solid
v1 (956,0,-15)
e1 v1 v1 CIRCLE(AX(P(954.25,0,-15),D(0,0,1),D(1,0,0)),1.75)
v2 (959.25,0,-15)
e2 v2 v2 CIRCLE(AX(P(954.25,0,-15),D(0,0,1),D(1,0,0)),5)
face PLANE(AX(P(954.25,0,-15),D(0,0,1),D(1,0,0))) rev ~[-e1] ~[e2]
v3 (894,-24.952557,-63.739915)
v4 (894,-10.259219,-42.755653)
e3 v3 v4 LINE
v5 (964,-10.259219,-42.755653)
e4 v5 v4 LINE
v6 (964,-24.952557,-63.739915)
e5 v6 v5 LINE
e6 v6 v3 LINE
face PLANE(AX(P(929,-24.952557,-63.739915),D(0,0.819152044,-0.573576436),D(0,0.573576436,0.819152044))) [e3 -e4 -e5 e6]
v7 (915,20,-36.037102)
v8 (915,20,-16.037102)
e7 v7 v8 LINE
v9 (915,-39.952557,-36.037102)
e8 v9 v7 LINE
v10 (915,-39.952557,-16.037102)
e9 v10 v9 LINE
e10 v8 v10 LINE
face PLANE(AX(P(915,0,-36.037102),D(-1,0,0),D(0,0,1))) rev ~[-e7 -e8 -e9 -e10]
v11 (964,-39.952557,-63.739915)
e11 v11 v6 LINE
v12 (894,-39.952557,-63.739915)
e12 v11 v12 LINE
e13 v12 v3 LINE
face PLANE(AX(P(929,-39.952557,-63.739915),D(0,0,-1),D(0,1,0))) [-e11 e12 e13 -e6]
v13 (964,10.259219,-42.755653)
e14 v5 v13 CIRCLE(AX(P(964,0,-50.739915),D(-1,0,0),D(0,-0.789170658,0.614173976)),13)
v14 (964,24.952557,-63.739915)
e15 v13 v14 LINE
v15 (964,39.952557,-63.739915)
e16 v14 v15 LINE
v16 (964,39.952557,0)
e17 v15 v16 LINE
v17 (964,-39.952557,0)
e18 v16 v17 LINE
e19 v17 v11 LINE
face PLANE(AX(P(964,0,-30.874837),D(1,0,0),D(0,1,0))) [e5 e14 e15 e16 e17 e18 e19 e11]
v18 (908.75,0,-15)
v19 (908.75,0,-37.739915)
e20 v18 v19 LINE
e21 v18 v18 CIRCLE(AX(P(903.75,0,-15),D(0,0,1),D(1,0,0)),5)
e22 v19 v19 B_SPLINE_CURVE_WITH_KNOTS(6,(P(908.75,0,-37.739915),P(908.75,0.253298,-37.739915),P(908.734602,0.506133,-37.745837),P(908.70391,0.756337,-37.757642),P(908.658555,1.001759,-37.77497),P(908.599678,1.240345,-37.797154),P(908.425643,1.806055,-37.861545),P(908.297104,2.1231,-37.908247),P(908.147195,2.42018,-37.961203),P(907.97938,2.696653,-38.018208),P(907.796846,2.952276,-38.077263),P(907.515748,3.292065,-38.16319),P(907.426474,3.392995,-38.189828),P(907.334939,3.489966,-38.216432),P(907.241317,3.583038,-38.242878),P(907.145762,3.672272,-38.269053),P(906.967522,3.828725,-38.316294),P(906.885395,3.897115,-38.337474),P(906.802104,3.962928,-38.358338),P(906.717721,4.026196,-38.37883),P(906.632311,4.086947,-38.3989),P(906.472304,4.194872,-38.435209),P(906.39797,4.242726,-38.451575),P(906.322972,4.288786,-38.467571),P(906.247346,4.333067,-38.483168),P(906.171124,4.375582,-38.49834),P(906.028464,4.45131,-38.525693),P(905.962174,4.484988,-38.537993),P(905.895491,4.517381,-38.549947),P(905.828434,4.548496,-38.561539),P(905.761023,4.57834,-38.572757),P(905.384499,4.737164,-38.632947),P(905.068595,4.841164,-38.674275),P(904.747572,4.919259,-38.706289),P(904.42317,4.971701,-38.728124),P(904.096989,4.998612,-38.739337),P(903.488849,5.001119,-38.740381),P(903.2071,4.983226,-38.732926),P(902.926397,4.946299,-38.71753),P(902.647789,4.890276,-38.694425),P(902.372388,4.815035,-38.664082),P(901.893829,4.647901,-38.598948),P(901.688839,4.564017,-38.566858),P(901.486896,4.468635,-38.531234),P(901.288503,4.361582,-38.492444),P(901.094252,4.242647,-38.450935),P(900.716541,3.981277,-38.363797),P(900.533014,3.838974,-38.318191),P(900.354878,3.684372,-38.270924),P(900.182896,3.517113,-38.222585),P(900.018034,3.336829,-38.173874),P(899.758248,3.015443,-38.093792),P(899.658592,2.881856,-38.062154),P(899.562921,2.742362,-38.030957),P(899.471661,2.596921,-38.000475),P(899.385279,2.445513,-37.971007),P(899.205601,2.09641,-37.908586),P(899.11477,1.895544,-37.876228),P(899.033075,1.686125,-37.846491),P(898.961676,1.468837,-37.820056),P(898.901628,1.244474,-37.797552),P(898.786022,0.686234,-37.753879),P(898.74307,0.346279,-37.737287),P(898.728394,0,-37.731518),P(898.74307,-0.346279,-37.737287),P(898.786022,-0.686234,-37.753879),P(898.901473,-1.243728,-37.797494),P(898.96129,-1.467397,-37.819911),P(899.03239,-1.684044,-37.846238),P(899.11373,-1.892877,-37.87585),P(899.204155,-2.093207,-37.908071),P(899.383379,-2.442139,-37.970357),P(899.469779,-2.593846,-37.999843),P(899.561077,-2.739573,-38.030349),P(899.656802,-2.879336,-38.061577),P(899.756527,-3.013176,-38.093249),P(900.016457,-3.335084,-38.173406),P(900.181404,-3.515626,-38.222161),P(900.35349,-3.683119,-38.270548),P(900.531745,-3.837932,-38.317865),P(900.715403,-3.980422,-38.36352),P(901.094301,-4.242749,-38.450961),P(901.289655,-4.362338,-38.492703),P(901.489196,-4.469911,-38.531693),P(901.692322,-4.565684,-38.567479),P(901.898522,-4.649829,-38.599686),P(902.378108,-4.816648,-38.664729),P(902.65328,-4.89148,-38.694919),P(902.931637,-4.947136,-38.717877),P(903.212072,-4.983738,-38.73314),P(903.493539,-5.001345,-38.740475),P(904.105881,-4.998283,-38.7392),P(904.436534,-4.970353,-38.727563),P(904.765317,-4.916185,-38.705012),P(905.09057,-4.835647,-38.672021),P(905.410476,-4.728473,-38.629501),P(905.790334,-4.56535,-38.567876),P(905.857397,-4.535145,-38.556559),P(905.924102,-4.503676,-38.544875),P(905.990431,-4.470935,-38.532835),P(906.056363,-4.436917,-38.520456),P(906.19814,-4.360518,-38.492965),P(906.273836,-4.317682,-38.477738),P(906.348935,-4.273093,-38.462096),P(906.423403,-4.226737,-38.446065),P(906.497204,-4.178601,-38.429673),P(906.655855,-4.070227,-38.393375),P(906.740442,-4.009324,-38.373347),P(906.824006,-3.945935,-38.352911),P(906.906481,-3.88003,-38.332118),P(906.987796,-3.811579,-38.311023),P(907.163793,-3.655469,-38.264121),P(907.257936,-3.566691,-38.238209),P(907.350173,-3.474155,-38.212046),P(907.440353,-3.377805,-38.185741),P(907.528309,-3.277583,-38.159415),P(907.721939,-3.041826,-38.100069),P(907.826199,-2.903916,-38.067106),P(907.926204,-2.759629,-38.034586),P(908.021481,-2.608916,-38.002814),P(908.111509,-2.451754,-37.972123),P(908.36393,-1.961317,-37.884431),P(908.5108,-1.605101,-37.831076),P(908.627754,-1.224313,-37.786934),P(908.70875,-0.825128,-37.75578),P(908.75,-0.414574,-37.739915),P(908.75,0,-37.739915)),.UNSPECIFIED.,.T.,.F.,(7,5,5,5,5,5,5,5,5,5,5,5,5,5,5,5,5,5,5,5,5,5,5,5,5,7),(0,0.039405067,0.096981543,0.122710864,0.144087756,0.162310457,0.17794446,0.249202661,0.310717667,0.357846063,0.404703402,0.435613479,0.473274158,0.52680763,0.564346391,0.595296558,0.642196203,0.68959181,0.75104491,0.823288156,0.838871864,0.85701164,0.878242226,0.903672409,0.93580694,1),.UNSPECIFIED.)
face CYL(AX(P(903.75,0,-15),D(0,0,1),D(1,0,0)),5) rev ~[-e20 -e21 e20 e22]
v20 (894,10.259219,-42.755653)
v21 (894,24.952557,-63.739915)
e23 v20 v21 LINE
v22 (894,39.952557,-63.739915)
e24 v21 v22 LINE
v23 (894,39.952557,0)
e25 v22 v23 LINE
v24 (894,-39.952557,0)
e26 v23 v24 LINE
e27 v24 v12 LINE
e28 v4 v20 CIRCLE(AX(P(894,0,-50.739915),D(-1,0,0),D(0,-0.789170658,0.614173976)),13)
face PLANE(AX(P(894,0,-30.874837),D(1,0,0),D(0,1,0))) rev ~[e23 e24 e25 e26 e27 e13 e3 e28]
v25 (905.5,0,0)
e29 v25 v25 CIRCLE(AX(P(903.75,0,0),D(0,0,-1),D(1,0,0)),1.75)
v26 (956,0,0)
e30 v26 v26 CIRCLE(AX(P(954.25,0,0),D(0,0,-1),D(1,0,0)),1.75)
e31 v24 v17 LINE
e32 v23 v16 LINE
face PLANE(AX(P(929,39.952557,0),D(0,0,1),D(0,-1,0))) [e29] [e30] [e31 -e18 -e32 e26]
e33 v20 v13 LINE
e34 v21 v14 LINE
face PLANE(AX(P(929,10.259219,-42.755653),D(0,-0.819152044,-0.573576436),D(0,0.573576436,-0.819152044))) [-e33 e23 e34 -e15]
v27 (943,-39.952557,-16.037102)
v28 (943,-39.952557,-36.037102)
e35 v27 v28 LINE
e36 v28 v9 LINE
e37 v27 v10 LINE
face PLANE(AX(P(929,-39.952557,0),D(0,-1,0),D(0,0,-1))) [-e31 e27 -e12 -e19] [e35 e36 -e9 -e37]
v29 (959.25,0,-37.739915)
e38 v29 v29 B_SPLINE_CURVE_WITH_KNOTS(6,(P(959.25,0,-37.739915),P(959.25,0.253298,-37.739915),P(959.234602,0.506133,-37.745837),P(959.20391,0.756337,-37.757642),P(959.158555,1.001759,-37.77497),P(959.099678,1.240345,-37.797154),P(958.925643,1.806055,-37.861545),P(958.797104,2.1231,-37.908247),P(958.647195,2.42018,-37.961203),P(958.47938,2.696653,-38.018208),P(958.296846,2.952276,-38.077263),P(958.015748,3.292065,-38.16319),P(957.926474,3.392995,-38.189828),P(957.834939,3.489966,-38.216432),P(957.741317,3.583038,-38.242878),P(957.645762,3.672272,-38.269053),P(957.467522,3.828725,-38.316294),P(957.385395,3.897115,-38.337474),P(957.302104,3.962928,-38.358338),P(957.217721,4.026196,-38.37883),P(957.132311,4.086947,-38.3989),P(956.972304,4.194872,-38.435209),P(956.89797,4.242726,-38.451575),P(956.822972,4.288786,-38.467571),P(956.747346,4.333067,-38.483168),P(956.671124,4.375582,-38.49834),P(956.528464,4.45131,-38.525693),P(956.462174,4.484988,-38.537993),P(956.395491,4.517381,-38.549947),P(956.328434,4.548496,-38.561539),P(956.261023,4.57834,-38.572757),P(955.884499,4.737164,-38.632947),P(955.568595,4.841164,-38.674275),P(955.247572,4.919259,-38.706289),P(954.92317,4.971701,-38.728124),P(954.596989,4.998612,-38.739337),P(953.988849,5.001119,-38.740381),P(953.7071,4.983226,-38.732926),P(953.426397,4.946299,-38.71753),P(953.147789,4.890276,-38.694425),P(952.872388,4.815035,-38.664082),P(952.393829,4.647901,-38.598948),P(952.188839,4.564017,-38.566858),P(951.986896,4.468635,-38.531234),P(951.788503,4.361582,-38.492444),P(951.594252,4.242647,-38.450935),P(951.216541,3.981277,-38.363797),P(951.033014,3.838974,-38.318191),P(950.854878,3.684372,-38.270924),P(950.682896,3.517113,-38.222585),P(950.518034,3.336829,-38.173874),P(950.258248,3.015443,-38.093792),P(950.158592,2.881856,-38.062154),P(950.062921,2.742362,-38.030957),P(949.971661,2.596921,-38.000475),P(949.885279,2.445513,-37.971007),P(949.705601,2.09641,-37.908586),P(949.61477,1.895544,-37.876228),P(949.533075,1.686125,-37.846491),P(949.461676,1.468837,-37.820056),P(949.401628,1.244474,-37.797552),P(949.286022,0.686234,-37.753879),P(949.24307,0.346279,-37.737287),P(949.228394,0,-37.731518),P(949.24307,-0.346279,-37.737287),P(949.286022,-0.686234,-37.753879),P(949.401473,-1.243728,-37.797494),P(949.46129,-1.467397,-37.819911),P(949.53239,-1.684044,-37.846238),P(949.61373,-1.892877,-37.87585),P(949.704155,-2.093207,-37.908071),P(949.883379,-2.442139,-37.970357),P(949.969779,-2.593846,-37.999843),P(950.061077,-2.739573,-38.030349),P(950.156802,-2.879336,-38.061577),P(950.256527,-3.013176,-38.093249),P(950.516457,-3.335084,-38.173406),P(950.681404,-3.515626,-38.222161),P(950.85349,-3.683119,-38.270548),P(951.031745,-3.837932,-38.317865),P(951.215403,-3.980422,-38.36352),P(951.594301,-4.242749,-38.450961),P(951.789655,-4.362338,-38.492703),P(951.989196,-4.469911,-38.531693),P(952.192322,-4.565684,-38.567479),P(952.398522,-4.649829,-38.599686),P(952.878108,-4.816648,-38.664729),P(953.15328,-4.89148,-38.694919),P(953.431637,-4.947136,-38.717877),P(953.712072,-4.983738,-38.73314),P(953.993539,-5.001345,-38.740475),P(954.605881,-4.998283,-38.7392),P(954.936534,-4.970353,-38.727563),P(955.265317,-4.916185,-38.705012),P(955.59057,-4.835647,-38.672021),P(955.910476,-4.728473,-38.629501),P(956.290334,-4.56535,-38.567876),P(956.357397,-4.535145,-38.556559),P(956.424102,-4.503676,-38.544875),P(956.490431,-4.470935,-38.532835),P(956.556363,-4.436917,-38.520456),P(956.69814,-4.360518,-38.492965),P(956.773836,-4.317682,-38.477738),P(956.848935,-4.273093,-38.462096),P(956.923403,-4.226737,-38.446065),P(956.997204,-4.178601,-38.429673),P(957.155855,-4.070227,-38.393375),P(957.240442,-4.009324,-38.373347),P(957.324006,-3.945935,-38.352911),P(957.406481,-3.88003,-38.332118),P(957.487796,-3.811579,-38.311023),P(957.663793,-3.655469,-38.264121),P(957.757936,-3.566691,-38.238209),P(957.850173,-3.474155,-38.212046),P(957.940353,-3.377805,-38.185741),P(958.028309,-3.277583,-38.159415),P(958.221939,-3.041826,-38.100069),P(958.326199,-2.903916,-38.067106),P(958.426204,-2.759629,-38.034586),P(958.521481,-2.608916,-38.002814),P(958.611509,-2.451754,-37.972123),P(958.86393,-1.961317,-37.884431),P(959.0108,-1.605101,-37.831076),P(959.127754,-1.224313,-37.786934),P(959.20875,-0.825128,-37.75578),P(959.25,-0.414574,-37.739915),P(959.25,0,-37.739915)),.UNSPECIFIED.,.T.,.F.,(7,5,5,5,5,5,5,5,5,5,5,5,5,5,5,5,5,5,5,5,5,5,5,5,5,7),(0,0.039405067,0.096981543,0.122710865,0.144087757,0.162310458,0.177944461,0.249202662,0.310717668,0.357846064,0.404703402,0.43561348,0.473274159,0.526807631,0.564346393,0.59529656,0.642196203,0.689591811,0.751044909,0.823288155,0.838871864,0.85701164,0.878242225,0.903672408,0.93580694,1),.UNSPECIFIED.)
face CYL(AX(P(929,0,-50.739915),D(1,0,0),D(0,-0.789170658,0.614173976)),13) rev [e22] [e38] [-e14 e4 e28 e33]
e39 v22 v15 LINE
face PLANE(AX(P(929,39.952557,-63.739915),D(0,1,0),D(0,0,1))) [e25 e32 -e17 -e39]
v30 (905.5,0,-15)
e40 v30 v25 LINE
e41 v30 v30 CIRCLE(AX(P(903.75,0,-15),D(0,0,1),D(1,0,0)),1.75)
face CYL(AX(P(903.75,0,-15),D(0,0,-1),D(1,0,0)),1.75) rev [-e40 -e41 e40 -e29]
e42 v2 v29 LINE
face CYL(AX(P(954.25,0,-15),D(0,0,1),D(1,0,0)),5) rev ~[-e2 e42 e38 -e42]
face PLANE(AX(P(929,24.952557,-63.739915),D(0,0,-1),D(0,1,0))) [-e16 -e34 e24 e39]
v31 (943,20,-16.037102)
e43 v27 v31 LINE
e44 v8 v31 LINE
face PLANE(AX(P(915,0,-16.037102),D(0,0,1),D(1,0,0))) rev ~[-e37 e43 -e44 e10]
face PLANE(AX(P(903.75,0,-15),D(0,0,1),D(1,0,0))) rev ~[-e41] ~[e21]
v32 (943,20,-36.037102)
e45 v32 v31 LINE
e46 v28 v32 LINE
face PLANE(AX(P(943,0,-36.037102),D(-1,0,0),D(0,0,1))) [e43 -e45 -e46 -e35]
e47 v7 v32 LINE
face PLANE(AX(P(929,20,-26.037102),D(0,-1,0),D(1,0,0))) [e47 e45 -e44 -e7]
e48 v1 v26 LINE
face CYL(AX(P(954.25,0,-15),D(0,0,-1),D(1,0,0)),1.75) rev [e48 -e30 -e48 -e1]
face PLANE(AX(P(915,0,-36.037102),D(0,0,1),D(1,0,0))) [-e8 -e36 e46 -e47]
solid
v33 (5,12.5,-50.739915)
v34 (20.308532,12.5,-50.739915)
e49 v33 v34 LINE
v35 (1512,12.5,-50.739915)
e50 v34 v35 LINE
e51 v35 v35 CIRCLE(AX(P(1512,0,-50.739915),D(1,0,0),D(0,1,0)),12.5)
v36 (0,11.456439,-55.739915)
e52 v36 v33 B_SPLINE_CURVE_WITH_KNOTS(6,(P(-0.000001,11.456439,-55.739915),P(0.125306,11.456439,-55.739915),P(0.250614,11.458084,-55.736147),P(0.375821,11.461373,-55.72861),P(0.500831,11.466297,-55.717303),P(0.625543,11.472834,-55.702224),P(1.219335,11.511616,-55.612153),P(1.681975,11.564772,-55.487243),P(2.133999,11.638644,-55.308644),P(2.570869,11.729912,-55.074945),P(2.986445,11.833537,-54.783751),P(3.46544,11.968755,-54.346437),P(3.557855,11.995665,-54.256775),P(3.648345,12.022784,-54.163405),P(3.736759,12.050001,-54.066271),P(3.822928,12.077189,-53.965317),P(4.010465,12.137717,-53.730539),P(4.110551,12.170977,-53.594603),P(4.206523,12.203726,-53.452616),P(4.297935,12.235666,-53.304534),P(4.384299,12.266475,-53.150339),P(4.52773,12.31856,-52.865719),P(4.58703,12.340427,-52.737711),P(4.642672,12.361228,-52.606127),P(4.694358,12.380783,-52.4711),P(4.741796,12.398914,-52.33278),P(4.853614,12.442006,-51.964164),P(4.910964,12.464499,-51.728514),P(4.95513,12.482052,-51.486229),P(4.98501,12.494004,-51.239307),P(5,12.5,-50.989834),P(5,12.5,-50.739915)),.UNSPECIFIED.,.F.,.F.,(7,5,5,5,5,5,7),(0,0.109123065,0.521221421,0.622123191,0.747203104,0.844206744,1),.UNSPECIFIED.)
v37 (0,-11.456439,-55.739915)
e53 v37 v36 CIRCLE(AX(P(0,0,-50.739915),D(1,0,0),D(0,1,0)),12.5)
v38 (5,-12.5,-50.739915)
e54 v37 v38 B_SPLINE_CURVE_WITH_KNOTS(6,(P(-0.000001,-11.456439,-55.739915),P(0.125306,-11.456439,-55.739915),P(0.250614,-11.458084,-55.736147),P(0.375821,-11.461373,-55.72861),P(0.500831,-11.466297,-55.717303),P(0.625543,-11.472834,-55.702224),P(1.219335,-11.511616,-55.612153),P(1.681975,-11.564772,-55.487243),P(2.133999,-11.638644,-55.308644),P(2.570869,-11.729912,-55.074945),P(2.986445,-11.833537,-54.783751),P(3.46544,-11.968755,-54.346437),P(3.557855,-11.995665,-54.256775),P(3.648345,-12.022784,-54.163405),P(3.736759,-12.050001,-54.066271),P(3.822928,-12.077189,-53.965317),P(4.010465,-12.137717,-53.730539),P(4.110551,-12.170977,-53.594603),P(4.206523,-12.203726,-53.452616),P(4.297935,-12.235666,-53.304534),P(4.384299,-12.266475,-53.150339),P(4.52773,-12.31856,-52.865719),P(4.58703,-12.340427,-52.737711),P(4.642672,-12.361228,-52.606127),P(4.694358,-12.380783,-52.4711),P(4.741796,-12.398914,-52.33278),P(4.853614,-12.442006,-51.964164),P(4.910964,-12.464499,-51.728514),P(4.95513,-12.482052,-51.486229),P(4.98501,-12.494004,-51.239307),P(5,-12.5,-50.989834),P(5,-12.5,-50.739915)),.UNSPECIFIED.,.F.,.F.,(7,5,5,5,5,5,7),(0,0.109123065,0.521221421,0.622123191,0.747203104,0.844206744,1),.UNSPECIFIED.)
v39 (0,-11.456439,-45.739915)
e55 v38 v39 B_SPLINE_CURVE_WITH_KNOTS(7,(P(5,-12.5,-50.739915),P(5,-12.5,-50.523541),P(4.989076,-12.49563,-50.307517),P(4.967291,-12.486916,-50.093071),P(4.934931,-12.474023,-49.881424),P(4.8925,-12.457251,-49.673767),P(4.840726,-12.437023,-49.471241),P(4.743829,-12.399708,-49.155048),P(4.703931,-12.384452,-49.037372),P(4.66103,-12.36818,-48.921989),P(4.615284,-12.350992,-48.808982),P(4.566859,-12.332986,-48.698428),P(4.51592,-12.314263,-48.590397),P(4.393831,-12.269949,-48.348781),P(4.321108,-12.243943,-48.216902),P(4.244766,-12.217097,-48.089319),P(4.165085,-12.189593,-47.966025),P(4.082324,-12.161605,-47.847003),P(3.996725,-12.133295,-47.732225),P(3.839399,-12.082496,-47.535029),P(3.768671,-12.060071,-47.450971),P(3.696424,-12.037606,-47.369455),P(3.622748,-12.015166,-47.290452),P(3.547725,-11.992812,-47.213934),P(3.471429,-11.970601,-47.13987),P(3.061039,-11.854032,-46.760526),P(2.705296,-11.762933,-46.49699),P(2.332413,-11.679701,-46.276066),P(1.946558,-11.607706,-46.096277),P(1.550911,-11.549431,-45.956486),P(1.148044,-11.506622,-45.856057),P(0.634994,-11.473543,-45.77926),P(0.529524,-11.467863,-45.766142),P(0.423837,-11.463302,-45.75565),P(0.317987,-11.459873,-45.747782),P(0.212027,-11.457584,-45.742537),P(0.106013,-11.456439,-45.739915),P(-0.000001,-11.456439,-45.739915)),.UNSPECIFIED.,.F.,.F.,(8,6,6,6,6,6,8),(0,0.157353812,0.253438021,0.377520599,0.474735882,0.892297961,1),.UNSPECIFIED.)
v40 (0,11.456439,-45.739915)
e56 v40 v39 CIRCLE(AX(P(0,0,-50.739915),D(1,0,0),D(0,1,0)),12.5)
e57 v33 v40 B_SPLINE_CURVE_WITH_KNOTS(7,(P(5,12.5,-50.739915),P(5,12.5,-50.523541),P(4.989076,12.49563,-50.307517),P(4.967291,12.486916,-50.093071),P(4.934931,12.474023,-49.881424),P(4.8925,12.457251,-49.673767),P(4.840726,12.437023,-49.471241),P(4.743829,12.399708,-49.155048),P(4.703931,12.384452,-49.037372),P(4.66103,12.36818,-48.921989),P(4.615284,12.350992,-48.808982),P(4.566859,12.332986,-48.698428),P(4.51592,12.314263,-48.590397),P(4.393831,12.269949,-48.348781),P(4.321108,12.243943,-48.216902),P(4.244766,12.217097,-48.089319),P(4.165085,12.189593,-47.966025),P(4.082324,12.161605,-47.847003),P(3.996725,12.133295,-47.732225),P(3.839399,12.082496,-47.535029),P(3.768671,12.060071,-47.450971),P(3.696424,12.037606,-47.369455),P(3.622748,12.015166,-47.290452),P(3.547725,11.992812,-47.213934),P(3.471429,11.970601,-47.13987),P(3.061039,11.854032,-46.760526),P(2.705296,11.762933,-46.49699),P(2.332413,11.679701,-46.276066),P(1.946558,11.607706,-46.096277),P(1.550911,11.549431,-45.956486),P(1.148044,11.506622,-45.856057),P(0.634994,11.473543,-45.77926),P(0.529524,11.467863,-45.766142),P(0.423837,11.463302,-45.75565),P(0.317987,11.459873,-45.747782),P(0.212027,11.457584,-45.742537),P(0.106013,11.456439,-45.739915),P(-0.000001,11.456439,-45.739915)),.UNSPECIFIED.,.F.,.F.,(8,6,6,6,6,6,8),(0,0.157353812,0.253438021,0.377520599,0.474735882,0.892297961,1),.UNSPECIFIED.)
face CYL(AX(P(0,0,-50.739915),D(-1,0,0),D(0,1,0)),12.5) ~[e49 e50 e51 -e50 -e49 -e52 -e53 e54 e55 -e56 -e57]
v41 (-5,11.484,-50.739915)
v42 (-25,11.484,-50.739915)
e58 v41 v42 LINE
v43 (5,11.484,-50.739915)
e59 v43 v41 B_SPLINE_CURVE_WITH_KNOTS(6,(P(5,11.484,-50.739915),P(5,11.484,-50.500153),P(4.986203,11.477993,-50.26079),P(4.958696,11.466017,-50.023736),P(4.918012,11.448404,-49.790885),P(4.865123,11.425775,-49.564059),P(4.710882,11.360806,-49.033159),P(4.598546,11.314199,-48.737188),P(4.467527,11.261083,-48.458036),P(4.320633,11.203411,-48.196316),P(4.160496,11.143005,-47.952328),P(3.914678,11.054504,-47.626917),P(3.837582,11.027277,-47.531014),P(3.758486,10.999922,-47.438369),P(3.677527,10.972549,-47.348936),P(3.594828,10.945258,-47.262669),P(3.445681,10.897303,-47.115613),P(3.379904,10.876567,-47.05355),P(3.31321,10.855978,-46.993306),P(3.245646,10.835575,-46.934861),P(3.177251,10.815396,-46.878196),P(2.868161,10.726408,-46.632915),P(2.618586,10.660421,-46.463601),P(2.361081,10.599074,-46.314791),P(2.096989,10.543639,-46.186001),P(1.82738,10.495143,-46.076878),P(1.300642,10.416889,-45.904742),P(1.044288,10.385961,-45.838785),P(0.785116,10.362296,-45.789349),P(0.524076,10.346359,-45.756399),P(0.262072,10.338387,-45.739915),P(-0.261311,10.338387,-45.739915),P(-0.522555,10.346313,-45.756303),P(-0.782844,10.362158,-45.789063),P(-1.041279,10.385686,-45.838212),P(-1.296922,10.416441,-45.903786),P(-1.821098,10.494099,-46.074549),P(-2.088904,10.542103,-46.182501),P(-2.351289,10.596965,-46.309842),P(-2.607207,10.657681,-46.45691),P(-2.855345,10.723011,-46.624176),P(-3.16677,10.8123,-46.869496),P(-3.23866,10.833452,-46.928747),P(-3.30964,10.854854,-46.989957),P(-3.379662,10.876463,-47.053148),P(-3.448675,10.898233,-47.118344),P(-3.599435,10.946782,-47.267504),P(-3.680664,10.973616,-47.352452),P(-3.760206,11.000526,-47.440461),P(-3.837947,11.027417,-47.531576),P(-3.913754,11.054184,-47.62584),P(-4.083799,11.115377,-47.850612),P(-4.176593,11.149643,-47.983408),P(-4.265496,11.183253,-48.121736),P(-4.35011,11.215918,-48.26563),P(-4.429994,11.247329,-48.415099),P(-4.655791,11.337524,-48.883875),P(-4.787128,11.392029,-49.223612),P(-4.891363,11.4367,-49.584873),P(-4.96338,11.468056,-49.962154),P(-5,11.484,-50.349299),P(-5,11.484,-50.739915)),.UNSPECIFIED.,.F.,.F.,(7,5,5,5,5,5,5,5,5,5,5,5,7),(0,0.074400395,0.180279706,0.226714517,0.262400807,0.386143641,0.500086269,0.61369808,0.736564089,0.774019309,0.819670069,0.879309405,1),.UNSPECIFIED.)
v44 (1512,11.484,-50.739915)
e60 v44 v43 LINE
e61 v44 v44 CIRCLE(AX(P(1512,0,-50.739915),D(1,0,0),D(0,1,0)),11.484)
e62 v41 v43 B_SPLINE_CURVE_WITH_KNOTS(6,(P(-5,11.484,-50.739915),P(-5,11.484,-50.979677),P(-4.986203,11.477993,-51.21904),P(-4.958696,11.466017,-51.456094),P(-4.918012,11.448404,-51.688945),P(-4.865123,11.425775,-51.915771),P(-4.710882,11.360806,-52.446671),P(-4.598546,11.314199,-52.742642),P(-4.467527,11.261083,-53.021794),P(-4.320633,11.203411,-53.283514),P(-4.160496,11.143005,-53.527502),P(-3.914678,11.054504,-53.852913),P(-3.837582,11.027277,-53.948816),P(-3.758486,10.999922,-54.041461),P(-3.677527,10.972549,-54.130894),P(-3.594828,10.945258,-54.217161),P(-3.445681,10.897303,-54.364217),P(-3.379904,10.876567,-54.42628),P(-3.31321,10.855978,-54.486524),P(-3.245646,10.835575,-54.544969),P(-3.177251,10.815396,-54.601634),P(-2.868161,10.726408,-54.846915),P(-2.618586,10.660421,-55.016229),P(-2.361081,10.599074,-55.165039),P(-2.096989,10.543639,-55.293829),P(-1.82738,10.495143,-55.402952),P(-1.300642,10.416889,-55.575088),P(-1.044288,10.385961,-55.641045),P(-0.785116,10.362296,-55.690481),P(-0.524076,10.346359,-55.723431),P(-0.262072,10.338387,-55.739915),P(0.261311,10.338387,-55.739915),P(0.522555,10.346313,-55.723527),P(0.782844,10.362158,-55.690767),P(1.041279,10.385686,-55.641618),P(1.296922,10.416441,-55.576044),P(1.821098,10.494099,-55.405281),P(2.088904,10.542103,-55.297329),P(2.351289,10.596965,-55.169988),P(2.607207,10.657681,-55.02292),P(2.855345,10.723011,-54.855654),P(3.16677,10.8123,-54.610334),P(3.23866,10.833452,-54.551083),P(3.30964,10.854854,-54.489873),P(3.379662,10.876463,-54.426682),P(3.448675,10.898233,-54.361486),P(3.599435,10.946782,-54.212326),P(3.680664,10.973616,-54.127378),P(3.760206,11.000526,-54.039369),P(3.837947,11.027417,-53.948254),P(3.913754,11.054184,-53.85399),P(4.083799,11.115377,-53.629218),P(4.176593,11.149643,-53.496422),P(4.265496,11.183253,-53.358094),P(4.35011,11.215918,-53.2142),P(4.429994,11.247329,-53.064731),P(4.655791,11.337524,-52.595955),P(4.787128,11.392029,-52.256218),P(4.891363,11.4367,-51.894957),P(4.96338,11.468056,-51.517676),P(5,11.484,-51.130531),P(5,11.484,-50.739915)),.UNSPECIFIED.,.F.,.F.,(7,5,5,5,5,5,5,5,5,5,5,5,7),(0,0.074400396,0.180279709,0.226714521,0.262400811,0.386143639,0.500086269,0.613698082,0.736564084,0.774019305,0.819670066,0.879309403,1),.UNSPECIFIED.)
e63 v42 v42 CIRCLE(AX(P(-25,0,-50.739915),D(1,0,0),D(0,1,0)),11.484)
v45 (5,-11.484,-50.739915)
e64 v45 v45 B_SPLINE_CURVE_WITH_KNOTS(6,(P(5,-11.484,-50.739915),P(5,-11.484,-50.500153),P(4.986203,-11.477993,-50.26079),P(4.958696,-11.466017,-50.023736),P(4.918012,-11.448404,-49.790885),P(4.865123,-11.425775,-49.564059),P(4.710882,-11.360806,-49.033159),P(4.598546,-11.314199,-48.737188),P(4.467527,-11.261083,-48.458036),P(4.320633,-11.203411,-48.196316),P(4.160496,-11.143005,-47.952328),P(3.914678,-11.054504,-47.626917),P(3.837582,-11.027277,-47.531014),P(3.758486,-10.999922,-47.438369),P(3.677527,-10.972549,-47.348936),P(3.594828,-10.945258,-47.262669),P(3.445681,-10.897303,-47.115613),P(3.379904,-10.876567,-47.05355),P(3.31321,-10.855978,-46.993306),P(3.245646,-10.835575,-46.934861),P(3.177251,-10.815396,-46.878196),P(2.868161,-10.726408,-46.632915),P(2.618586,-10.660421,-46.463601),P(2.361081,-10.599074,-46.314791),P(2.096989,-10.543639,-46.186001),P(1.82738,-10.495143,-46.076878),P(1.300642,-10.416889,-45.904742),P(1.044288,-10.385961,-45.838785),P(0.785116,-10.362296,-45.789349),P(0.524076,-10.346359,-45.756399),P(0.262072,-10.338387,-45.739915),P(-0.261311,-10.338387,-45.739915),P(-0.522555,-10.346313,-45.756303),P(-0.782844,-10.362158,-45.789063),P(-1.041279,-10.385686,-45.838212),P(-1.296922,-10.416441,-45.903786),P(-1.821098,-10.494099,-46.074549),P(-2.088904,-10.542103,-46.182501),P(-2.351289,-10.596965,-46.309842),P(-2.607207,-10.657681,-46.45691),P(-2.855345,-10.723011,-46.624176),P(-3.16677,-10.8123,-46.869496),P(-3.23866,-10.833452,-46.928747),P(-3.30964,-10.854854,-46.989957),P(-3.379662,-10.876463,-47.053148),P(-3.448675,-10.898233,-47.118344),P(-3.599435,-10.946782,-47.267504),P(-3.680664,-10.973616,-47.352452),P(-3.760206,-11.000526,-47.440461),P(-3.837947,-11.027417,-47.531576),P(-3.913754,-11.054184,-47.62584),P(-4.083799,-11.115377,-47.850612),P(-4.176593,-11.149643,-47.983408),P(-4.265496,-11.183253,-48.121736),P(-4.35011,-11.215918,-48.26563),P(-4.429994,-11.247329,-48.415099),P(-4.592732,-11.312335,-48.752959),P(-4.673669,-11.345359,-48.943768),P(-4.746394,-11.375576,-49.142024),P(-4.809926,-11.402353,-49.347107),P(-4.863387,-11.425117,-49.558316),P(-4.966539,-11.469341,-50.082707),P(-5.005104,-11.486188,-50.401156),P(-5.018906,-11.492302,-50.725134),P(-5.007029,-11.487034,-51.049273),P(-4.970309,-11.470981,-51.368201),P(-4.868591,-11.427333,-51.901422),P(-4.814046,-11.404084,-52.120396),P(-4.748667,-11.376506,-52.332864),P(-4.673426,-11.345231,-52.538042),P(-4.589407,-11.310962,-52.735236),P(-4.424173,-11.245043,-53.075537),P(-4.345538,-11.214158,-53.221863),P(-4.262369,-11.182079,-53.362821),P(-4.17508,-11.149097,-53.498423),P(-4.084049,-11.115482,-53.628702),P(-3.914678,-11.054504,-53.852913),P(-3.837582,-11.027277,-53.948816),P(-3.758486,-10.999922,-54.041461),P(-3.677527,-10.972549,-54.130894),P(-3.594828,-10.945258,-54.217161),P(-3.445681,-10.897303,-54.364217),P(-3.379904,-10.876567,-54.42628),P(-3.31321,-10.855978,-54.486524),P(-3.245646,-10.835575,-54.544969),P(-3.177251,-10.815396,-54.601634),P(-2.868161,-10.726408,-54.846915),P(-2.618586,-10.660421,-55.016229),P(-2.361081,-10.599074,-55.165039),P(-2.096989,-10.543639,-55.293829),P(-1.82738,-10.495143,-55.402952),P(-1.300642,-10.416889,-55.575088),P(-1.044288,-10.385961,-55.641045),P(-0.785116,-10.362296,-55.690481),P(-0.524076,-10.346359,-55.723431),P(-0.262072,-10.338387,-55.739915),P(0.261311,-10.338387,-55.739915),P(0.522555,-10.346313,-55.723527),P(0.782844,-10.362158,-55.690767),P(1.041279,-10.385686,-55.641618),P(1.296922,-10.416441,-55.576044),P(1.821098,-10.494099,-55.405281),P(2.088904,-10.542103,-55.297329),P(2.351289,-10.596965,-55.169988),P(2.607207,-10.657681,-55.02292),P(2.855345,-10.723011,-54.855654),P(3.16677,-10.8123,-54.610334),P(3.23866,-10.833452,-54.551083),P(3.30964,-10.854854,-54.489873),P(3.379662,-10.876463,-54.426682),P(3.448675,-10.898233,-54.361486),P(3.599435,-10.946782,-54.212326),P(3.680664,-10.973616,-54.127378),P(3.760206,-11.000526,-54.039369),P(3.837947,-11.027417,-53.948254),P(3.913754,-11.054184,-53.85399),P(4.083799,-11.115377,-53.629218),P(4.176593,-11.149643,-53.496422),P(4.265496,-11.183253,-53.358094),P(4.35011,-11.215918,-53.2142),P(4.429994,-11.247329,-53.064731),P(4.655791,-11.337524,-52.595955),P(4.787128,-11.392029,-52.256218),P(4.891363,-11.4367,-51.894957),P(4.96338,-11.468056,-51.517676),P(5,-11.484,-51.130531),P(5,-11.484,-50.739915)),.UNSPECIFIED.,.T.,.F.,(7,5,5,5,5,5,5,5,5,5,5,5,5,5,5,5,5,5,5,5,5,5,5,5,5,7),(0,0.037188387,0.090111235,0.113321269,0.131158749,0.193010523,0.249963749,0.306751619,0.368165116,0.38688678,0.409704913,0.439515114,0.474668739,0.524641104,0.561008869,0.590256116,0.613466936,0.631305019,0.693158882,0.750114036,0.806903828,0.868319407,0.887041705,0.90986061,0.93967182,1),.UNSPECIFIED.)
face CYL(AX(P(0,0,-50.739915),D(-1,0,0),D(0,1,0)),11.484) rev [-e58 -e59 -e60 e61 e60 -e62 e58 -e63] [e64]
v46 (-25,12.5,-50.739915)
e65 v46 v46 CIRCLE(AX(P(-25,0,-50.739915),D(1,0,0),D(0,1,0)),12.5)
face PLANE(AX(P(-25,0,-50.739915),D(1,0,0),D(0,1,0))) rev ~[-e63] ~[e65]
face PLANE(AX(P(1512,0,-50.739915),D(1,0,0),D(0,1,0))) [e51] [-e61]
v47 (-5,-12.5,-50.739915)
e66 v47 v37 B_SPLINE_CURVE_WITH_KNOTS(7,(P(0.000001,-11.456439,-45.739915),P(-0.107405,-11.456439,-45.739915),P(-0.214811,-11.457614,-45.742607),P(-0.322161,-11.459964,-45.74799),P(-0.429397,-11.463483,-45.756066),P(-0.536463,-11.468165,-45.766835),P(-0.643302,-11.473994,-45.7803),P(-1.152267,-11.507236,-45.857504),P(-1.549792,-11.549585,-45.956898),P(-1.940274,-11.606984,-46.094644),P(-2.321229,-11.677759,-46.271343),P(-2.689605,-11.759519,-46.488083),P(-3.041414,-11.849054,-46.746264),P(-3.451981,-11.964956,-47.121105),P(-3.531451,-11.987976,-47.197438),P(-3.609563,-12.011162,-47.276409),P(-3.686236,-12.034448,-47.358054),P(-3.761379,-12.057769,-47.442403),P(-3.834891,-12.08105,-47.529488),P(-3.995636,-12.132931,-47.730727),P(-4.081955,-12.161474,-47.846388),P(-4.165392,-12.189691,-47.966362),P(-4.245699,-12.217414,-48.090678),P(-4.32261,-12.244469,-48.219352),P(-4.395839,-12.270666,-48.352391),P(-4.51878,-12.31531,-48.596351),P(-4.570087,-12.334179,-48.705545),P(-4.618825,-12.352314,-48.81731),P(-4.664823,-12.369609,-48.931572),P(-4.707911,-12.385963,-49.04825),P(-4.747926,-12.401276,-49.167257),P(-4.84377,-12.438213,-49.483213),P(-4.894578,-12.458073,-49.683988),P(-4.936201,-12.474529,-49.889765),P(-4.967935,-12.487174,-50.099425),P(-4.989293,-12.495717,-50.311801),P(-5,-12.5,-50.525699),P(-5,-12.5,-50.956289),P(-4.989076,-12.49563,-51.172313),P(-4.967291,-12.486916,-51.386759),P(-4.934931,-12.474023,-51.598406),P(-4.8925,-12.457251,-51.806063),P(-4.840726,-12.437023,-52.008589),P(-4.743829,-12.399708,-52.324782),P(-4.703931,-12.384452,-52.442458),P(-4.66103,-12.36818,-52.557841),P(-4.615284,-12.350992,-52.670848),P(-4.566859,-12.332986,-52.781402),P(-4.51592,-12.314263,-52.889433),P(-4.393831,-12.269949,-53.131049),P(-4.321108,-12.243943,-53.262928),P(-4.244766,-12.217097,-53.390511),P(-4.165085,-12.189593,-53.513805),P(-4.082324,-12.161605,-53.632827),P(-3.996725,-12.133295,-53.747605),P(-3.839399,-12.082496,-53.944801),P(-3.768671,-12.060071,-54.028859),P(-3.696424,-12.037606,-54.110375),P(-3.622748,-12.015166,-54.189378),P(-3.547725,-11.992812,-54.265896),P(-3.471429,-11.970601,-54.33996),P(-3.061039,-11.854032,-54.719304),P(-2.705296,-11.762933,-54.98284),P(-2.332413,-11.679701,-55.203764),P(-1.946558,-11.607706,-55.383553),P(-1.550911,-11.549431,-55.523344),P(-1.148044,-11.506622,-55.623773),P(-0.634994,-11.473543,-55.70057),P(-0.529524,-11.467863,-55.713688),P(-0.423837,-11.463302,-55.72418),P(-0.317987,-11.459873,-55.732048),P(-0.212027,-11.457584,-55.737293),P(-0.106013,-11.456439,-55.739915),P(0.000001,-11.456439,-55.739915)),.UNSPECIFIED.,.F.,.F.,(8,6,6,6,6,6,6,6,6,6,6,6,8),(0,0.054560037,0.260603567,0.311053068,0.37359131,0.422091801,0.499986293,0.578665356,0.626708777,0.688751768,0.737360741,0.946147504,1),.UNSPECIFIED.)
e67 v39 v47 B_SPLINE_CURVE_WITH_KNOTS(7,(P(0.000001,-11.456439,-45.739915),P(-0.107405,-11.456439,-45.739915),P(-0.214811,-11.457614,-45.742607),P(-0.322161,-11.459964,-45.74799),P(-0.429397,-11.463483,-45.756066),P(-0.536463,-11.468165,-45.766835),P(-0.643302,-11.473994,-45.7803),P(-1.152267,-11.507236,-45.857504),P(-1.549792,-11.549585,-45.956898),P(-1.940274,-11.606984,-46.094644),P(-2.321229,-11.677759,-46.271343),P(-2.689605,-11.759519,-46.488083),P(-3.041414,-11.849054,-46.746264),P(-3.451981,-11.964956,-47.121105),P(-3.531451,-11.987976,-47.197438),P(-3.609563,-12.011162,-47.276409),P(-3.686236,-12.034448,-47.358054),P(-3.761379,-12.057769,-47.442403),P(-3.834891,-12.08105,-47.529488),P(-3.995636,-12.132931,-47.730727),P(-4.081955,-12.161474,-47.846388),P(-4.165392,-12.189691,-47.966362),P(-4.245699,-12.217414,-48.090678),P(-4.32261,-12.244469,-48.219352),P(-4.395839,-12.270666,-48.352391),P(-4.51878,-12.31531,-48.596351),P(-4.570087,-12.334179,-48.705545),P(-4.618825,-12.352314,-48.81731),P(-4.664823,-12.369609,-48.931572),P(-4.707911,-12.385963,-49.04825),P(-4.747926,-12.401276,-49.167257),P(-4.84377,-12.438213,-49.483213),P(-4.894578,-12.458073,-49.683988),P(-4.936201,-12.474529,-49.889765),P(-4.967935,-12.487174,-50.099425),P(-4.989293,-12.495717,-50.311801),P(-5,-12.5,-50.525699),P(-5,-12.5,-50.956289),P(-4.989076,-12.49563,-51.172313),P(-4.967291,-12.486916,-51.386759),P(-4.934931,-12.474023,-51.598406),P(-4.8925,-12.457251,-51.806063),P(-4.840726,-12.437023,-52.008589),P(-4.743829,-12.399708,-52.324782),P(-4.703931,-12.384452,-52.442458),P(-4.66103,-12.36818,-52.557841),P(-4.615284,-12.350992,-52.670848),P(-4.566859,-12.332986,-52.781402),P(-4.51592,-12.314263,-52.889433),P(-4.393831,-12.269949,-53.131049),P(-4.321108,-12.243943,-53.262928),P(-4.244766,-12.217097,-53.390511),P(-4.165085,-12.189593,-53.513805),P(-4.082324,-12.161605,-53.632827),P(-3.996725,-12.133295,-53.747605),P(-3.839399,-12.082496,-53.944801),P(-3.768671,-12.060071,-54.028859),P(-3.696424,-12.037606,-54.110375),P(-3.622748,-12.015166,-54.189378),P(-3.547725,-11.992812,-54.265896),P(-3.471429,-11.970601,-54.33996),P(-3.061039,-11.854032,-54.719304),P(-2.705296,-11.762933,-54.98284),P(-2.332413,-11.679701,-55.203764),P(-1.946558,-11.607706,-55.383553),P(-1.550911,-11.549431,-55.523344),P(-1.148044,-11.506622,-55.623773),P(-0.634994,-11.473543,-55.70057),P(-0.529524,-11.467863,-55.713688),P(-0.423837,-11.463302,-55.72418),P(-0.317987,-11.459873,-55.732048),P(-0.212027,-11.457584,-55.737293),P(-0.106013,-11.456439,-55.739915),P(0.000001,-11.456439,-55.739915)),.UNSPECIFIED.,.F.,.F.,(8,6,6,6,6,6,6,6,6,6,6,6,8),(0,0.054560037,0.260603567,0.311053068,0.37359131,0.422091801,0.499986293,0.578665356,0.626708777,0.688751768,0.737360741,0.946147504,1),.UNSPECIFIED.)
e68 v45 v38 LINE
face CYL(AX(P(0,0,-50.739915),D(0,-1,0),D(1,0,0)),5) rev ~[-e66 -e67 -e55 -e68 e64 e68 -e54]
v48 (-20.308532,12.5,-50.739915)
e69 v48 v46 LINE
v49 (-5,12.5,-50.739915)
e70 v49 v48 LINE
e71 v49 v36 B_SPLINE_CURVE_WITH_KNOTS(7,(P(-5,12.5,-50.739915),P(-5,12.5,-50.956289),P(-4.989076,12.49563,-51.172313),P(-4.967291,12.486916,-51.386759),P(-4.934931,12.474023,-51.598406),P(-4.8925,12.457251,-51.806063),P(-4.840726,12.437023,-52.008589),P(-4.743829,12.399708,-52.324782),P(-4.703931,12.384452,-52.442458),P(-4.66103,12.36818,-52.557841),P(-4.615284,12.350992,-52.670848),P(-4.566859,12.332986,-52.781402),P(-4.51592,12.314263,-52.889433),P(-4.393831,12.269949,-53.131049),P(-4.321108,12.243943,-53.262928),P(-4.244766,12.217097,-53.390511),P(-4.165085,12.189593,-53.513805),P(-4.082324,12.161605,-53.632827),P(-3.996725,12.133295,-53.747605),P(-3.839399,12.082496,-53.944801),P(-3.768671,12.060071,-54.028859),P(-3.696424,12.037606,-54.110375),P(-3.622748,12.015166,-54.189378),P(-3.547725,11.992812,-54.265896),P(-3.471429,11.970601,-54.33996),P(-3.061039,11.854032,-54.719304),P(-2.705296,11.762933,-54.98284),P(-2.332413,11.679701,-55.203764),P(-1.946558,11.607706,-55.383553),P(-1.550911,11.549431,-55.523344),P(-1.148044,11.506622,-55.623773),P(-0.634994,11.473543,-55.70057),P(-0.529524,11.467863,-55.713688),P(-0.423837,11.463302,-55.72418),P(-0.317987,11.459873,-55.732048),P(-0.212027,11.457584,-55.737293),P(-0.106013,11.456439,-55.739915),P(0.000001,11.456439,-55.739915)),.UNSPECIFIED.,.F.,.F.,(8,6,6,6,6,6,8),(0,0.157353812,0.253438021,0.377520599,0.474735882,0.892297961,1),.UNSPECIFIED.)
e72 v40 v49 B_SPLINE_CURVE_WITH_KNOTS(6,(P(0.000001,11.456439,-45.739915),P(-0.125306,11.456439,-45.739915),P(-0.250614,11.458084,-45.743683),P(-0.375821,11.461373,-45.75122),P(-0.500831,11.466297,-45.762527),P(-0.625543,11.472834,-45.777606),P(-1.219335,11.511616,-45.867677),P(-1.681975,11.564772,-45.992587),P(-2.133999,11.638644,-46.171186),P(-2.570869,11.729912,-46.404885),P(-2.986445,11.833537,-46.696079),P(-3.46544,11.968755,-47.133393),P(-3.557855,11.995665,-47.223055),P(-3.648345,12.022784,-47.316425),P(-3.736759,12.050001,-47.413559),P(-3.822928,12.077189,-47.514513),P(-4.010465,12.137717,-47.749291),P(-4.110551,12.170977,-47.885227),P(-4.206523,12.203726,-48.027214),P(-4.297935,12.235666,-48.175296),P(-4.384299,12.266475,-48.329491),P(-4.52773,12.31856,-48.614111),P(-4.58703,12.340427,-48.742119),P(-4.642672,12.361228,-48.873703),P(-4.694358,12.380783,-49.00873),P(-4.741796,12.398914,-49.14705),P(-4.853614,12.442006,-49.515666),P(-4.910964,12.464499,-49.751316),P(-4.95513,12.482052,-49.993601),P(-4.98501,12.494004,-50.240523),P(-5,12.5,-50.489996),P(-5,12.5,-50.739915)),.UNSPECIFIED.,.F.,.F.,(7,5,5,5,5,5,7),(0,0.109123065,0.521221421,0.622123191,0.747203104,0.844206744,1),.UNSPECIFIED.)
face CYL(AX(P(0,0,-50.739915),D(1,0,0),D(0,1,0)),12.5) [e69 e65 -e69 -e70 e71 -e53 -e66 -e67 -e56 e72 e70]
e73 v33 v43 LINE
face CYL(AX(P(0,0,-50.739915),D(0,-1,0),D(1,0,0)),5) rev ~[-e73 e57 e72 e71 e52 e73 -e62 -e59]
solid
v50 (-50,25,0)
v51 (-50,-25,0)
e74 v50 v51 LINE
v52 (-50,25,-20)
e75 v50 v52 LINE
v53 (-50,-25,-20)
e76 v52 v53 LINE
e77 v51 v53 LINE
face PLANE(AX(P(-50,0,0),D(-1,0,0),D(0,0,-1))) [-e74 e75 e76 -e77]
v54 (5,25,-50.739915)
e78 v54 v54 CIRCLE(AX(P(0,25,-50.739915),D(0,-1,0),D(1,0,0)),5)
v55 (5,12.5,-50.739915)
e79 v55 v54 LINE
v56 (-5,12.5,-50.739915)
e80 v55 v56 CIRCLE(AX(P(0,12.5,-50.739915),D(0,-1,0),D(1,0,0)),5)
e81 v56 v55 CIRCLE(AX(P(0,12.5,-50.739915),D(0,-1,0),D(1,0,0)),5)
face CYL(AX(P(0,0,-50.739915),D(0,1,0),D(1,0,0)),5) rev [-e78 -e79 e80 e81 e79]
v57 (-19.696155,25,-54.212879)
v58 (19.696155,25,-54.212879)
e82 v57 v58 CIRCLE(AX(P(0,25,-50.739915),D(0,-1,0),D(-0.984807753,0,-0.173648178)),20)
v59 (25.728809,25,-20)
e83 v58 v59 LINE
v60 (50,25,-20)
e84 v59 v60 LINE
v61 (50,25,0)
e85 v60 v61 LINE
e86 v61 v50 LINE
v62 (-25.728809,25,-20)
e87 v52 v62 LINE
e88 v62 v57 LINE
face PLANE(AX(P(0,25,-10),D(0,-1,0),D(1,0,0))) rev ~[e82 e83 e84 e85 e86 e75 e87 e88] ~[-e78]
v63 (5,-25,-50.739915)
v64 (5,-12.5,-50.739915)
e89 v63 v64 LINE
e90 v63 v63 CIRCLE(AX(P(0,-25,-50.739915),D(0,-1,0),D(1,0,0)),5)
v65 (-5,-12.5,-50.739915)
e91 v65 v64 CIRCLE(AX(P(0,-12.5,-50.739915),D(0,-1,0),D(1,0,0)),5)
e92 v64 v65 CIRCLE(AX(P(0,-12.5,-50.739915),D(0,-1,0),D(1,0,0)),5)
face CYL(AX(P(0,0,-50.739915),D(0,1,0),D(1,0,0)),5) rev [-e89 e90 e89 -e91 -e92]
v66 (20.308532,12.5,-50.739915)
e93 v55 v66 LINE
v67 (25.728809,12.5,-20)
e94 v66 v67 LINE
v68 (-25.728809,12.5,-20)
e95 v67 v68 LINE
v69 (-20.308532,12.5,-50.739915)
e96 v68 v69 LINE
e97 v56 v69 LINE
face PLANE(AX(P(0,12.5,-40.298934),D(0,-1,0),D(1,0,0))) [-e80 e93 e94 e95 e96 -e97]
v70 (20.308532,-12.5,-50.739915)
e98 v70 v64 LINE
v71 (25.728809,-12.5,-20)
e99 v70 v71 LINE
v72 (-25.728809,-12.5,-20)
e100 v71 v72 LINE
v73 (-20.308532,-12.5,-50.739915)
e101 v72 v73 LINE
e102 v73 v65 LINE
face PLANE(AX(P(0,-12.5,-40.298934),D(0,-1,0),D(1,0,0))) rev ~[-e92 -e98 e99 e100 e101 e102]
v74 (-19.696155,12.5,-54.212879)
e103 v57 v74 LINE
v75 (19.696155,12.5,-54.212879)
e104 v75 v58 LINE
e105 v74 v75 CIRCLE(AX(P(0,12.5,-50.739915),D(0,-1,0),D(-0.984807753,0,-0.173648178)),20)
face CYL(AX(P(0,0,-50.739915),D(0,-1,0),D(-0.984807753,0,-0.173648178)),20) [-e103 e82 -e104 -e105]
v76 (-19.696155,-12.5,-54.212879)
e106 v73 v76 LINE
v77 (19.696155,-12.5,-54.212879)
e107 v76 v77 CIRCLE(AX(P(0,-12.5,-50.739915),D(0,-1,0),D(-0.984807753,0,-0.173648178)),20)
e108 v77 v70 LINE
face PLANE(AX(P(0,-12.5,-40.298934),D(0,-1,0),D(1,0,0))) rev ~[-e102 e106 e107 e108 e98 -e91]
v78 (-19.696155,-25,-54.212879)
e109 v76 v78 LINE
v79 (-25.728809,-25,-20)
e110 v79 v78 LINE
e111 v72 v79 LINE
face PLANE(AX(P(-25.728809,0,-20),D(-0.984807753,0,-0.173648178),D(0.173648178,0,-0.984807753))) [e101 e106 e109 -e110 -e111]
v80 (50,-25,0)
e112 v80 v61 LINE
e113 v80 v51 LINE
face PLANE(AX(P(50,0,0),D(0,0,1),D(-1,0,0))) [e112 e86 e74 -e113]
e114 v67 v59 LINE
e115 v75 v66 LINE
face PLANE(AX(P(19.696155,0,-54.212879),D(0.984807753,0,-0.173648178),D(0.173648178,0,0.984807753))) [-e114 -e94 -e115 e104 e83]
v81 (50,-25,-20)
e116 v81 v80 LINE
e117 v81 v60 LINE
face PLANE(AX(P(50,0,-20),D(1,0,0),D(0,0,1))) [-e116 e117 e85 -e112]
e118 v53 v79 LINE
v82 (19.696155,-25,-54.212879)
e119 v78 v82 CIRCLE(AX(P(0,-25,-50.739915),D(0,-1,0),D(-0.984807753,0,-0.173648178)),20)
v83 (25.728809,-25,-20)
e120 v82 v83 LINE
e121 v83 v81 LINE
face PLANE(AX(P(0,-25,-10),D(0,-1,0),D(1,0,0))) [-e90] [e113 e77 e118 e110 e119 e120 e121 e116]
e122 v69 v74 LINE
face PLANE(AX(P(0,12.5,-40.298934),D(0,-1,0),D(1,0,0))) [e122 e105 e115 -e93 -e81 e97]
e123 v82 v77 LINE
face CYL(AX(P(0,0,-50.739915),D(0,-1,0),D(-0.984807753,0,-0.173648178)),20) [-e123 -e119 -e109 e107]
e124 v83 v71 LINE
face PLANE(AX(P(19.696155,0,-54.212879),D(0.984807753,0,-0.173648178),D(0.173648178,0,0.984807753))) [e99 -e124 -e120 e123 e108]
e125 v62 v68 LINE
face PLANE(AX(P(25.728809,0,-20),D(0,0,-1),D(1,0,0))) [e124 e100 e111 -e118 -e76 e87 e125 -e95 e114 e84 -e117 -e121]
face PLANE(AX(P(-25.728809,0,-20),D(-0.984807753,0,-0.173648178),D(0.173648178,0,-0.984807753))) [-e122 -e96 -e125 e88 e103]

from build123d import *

# Parameters (mm, degrees)
F0_R           = 5
F1_DEPTH       = 25
F2_DEPTH       = 12.5
F3_R           = 12.5
F3_R_2         = 11.484
F4_DEPTH       = 25
F4_DEPTH_BACK  = 1512
F5_DEPTH       = 31.3
F8_DEPTH       = 35
F10_R          = 5
F10_R_2        = 1.75
F11_DEPTH      = 61
F12_DEPTH      = 15.001
F13_W          = 28
F13_H          = 20
F14_DEPTH      = 20
F14_DEPTH_BACK = 39.9535567697


with BuildPart() as f1:
    # F0 (on Front) → F1 (new body, symmetric)
    with BuildSketch(Plane.XZ):
        Polygon((50, 0), (-50, 0), (-50, -20), (-25.728808637, -20), (25.728808637, -20), (50, -20), align=None)
        with BuildLine():
            Line((25.728808637, -20), (-25.728808637, -20))
            Line((-25.728808637, -20), (-19.6961550602, -54.2128785537))
            ThreePointArc((-19.6961550602, -54.2128785537), (0, -70.7399150003), (19.6961550602, -54.2128785537))
            Line((19.6961550602, -54.2128785537), (25.728808637, -20))
        make_face()
        with Locations((0, -50.7399150003)):
            Circle(F0_R, mode=Mode.SUBTRACT)
    extrude(amount=F1_DEPTH, both=True)

    # F0 (on Front) → F2 (cut, symmetric)
    with BuildSketch(Plane.XZ):
        with BuildLine():
            Line((25.728808637, -20), (-25.728808637, -20))
            Line((-25.728808637, -20), (-19.6961550602, -54.2128785537))
            ThreePointArc((-19.6961550602, -54.2128785537), (0, -70.7399150003), (19.6961550602, -54.2128785537))
            Line((19.6961550602, -54.2128785537), (25.728808637, -20))
        make_face()
        with Locations((0, -50.7399150003)):
            Circle(F0_R, mode=Mode.SUBTRACT)
    extrude(amount=F2_DEPTH, both=True, mode=Mode.SUBTRACT)

    # F3 (on Right) → F4 (join, two sides)
    with BuildSketch(Plane.YZ) as f4_sk:
        with Locations((0, -50.7399150003)):
            Circle(F3_R)
        with Locations((0, -50.7399150003)):
            Circle(F3_R_2, mode=Mode.SUBTRACT)
    extrude(amount=-F4_DEPTH)
    extrude(f4_sk.sketch, amount=F4_DEPTH_BACK)

    # F0 (on Front) → F5 (cut, symmetric)
    with BuildSketch(Plane.XZ):
        with Locations((0, -50.7399150003)):
            Circle(F0_R)
    extrude(amount=F5_DEPTH, both=True, mode=Mode.SUBTRACT)


with BuildPart() as f8:
    # F7 (on offset) → F8 (new body, symmetric)
    with BuildSketch(Plane.YZ.offset(929)):
        with BuildLine():
            ThreePointArc((-10.2592185517, -42.7556533119), (0, -37.7399150003), (10.2592185517, -42.7556533119))
            Line((10.2592185517, -42.7556533119), (24.9525567697, -63.7399150003))
            Line((24.9525567697, -63.7399150003), (39.9525567697, -63.7399150003))
            Line((39.9525567697, -63.7399150003), (39.9525567697, 0))
            Line((39.9525567697, 0), (-39.9525567697, 0))
            Line((-39.9525567697, 0), (-39.9525567697, -63.7399150003))
            Line((-39.9525567697, -63.7399150003), (-24.9525567697, -63.7399150003))
            Line((-24.9525567697, -63.7399150003), (-10.2592185517, -42.7556533119))
        make_face()
    extrude(amount=F8_DEPTH, both=True)

    # F10 (on offset) → F11 (cut)
    with BuildSketch(Plane.XY.offset(-15)):
        with Locations((903.75, 0)):
            Circle(F10_R)
        with Locations((903.75, 0)):
            Circle(F10_R_2, mode=Mode.SUBTRACT)
        with Locations((954.25, 0)):
            Circle(F10_R)
        with Locations((954.25, 0)):
            Circle(F10_R_2, mode=Mode.SUBTRACT)
        with Locations((903.75, 0)):
            Circle(F10_R_2)
        with Locations((954.25, 0)):
            Circle(F10_R_2)
    extrude(amount=-F11_DEPTH, mode=Mode.SUBTRACT)

    # F10 (on offset) → F12 (cut, through all)
    with BuildSketch(Plane.XY.offset(-15)):
        with Locations((903.75, 0)):
            Circle(F10_R_2)
        with Locations((954.25, 0)):
            Circle(F10_R_2)
    extrude(amount=F12_DEPTH, mode=Mode.SUBTRACT)

    # F13 (on Front) → F14 (cut, two sides)
    with BuildSketch(Plane.XZ) as f14_sk:
        with Locations((929, -26.0371023417)):
            Rectangle(F13_W, F13_H)
    extrude(amount=-F14_DEPTH, mode=Mode.SUBTRACT)
    extrude(f14_sk.sketch, amount=F14_DEPTH_BACK, mode=Mode.SUBTRACT)


solid = Compound([f1.part, f8.part])
